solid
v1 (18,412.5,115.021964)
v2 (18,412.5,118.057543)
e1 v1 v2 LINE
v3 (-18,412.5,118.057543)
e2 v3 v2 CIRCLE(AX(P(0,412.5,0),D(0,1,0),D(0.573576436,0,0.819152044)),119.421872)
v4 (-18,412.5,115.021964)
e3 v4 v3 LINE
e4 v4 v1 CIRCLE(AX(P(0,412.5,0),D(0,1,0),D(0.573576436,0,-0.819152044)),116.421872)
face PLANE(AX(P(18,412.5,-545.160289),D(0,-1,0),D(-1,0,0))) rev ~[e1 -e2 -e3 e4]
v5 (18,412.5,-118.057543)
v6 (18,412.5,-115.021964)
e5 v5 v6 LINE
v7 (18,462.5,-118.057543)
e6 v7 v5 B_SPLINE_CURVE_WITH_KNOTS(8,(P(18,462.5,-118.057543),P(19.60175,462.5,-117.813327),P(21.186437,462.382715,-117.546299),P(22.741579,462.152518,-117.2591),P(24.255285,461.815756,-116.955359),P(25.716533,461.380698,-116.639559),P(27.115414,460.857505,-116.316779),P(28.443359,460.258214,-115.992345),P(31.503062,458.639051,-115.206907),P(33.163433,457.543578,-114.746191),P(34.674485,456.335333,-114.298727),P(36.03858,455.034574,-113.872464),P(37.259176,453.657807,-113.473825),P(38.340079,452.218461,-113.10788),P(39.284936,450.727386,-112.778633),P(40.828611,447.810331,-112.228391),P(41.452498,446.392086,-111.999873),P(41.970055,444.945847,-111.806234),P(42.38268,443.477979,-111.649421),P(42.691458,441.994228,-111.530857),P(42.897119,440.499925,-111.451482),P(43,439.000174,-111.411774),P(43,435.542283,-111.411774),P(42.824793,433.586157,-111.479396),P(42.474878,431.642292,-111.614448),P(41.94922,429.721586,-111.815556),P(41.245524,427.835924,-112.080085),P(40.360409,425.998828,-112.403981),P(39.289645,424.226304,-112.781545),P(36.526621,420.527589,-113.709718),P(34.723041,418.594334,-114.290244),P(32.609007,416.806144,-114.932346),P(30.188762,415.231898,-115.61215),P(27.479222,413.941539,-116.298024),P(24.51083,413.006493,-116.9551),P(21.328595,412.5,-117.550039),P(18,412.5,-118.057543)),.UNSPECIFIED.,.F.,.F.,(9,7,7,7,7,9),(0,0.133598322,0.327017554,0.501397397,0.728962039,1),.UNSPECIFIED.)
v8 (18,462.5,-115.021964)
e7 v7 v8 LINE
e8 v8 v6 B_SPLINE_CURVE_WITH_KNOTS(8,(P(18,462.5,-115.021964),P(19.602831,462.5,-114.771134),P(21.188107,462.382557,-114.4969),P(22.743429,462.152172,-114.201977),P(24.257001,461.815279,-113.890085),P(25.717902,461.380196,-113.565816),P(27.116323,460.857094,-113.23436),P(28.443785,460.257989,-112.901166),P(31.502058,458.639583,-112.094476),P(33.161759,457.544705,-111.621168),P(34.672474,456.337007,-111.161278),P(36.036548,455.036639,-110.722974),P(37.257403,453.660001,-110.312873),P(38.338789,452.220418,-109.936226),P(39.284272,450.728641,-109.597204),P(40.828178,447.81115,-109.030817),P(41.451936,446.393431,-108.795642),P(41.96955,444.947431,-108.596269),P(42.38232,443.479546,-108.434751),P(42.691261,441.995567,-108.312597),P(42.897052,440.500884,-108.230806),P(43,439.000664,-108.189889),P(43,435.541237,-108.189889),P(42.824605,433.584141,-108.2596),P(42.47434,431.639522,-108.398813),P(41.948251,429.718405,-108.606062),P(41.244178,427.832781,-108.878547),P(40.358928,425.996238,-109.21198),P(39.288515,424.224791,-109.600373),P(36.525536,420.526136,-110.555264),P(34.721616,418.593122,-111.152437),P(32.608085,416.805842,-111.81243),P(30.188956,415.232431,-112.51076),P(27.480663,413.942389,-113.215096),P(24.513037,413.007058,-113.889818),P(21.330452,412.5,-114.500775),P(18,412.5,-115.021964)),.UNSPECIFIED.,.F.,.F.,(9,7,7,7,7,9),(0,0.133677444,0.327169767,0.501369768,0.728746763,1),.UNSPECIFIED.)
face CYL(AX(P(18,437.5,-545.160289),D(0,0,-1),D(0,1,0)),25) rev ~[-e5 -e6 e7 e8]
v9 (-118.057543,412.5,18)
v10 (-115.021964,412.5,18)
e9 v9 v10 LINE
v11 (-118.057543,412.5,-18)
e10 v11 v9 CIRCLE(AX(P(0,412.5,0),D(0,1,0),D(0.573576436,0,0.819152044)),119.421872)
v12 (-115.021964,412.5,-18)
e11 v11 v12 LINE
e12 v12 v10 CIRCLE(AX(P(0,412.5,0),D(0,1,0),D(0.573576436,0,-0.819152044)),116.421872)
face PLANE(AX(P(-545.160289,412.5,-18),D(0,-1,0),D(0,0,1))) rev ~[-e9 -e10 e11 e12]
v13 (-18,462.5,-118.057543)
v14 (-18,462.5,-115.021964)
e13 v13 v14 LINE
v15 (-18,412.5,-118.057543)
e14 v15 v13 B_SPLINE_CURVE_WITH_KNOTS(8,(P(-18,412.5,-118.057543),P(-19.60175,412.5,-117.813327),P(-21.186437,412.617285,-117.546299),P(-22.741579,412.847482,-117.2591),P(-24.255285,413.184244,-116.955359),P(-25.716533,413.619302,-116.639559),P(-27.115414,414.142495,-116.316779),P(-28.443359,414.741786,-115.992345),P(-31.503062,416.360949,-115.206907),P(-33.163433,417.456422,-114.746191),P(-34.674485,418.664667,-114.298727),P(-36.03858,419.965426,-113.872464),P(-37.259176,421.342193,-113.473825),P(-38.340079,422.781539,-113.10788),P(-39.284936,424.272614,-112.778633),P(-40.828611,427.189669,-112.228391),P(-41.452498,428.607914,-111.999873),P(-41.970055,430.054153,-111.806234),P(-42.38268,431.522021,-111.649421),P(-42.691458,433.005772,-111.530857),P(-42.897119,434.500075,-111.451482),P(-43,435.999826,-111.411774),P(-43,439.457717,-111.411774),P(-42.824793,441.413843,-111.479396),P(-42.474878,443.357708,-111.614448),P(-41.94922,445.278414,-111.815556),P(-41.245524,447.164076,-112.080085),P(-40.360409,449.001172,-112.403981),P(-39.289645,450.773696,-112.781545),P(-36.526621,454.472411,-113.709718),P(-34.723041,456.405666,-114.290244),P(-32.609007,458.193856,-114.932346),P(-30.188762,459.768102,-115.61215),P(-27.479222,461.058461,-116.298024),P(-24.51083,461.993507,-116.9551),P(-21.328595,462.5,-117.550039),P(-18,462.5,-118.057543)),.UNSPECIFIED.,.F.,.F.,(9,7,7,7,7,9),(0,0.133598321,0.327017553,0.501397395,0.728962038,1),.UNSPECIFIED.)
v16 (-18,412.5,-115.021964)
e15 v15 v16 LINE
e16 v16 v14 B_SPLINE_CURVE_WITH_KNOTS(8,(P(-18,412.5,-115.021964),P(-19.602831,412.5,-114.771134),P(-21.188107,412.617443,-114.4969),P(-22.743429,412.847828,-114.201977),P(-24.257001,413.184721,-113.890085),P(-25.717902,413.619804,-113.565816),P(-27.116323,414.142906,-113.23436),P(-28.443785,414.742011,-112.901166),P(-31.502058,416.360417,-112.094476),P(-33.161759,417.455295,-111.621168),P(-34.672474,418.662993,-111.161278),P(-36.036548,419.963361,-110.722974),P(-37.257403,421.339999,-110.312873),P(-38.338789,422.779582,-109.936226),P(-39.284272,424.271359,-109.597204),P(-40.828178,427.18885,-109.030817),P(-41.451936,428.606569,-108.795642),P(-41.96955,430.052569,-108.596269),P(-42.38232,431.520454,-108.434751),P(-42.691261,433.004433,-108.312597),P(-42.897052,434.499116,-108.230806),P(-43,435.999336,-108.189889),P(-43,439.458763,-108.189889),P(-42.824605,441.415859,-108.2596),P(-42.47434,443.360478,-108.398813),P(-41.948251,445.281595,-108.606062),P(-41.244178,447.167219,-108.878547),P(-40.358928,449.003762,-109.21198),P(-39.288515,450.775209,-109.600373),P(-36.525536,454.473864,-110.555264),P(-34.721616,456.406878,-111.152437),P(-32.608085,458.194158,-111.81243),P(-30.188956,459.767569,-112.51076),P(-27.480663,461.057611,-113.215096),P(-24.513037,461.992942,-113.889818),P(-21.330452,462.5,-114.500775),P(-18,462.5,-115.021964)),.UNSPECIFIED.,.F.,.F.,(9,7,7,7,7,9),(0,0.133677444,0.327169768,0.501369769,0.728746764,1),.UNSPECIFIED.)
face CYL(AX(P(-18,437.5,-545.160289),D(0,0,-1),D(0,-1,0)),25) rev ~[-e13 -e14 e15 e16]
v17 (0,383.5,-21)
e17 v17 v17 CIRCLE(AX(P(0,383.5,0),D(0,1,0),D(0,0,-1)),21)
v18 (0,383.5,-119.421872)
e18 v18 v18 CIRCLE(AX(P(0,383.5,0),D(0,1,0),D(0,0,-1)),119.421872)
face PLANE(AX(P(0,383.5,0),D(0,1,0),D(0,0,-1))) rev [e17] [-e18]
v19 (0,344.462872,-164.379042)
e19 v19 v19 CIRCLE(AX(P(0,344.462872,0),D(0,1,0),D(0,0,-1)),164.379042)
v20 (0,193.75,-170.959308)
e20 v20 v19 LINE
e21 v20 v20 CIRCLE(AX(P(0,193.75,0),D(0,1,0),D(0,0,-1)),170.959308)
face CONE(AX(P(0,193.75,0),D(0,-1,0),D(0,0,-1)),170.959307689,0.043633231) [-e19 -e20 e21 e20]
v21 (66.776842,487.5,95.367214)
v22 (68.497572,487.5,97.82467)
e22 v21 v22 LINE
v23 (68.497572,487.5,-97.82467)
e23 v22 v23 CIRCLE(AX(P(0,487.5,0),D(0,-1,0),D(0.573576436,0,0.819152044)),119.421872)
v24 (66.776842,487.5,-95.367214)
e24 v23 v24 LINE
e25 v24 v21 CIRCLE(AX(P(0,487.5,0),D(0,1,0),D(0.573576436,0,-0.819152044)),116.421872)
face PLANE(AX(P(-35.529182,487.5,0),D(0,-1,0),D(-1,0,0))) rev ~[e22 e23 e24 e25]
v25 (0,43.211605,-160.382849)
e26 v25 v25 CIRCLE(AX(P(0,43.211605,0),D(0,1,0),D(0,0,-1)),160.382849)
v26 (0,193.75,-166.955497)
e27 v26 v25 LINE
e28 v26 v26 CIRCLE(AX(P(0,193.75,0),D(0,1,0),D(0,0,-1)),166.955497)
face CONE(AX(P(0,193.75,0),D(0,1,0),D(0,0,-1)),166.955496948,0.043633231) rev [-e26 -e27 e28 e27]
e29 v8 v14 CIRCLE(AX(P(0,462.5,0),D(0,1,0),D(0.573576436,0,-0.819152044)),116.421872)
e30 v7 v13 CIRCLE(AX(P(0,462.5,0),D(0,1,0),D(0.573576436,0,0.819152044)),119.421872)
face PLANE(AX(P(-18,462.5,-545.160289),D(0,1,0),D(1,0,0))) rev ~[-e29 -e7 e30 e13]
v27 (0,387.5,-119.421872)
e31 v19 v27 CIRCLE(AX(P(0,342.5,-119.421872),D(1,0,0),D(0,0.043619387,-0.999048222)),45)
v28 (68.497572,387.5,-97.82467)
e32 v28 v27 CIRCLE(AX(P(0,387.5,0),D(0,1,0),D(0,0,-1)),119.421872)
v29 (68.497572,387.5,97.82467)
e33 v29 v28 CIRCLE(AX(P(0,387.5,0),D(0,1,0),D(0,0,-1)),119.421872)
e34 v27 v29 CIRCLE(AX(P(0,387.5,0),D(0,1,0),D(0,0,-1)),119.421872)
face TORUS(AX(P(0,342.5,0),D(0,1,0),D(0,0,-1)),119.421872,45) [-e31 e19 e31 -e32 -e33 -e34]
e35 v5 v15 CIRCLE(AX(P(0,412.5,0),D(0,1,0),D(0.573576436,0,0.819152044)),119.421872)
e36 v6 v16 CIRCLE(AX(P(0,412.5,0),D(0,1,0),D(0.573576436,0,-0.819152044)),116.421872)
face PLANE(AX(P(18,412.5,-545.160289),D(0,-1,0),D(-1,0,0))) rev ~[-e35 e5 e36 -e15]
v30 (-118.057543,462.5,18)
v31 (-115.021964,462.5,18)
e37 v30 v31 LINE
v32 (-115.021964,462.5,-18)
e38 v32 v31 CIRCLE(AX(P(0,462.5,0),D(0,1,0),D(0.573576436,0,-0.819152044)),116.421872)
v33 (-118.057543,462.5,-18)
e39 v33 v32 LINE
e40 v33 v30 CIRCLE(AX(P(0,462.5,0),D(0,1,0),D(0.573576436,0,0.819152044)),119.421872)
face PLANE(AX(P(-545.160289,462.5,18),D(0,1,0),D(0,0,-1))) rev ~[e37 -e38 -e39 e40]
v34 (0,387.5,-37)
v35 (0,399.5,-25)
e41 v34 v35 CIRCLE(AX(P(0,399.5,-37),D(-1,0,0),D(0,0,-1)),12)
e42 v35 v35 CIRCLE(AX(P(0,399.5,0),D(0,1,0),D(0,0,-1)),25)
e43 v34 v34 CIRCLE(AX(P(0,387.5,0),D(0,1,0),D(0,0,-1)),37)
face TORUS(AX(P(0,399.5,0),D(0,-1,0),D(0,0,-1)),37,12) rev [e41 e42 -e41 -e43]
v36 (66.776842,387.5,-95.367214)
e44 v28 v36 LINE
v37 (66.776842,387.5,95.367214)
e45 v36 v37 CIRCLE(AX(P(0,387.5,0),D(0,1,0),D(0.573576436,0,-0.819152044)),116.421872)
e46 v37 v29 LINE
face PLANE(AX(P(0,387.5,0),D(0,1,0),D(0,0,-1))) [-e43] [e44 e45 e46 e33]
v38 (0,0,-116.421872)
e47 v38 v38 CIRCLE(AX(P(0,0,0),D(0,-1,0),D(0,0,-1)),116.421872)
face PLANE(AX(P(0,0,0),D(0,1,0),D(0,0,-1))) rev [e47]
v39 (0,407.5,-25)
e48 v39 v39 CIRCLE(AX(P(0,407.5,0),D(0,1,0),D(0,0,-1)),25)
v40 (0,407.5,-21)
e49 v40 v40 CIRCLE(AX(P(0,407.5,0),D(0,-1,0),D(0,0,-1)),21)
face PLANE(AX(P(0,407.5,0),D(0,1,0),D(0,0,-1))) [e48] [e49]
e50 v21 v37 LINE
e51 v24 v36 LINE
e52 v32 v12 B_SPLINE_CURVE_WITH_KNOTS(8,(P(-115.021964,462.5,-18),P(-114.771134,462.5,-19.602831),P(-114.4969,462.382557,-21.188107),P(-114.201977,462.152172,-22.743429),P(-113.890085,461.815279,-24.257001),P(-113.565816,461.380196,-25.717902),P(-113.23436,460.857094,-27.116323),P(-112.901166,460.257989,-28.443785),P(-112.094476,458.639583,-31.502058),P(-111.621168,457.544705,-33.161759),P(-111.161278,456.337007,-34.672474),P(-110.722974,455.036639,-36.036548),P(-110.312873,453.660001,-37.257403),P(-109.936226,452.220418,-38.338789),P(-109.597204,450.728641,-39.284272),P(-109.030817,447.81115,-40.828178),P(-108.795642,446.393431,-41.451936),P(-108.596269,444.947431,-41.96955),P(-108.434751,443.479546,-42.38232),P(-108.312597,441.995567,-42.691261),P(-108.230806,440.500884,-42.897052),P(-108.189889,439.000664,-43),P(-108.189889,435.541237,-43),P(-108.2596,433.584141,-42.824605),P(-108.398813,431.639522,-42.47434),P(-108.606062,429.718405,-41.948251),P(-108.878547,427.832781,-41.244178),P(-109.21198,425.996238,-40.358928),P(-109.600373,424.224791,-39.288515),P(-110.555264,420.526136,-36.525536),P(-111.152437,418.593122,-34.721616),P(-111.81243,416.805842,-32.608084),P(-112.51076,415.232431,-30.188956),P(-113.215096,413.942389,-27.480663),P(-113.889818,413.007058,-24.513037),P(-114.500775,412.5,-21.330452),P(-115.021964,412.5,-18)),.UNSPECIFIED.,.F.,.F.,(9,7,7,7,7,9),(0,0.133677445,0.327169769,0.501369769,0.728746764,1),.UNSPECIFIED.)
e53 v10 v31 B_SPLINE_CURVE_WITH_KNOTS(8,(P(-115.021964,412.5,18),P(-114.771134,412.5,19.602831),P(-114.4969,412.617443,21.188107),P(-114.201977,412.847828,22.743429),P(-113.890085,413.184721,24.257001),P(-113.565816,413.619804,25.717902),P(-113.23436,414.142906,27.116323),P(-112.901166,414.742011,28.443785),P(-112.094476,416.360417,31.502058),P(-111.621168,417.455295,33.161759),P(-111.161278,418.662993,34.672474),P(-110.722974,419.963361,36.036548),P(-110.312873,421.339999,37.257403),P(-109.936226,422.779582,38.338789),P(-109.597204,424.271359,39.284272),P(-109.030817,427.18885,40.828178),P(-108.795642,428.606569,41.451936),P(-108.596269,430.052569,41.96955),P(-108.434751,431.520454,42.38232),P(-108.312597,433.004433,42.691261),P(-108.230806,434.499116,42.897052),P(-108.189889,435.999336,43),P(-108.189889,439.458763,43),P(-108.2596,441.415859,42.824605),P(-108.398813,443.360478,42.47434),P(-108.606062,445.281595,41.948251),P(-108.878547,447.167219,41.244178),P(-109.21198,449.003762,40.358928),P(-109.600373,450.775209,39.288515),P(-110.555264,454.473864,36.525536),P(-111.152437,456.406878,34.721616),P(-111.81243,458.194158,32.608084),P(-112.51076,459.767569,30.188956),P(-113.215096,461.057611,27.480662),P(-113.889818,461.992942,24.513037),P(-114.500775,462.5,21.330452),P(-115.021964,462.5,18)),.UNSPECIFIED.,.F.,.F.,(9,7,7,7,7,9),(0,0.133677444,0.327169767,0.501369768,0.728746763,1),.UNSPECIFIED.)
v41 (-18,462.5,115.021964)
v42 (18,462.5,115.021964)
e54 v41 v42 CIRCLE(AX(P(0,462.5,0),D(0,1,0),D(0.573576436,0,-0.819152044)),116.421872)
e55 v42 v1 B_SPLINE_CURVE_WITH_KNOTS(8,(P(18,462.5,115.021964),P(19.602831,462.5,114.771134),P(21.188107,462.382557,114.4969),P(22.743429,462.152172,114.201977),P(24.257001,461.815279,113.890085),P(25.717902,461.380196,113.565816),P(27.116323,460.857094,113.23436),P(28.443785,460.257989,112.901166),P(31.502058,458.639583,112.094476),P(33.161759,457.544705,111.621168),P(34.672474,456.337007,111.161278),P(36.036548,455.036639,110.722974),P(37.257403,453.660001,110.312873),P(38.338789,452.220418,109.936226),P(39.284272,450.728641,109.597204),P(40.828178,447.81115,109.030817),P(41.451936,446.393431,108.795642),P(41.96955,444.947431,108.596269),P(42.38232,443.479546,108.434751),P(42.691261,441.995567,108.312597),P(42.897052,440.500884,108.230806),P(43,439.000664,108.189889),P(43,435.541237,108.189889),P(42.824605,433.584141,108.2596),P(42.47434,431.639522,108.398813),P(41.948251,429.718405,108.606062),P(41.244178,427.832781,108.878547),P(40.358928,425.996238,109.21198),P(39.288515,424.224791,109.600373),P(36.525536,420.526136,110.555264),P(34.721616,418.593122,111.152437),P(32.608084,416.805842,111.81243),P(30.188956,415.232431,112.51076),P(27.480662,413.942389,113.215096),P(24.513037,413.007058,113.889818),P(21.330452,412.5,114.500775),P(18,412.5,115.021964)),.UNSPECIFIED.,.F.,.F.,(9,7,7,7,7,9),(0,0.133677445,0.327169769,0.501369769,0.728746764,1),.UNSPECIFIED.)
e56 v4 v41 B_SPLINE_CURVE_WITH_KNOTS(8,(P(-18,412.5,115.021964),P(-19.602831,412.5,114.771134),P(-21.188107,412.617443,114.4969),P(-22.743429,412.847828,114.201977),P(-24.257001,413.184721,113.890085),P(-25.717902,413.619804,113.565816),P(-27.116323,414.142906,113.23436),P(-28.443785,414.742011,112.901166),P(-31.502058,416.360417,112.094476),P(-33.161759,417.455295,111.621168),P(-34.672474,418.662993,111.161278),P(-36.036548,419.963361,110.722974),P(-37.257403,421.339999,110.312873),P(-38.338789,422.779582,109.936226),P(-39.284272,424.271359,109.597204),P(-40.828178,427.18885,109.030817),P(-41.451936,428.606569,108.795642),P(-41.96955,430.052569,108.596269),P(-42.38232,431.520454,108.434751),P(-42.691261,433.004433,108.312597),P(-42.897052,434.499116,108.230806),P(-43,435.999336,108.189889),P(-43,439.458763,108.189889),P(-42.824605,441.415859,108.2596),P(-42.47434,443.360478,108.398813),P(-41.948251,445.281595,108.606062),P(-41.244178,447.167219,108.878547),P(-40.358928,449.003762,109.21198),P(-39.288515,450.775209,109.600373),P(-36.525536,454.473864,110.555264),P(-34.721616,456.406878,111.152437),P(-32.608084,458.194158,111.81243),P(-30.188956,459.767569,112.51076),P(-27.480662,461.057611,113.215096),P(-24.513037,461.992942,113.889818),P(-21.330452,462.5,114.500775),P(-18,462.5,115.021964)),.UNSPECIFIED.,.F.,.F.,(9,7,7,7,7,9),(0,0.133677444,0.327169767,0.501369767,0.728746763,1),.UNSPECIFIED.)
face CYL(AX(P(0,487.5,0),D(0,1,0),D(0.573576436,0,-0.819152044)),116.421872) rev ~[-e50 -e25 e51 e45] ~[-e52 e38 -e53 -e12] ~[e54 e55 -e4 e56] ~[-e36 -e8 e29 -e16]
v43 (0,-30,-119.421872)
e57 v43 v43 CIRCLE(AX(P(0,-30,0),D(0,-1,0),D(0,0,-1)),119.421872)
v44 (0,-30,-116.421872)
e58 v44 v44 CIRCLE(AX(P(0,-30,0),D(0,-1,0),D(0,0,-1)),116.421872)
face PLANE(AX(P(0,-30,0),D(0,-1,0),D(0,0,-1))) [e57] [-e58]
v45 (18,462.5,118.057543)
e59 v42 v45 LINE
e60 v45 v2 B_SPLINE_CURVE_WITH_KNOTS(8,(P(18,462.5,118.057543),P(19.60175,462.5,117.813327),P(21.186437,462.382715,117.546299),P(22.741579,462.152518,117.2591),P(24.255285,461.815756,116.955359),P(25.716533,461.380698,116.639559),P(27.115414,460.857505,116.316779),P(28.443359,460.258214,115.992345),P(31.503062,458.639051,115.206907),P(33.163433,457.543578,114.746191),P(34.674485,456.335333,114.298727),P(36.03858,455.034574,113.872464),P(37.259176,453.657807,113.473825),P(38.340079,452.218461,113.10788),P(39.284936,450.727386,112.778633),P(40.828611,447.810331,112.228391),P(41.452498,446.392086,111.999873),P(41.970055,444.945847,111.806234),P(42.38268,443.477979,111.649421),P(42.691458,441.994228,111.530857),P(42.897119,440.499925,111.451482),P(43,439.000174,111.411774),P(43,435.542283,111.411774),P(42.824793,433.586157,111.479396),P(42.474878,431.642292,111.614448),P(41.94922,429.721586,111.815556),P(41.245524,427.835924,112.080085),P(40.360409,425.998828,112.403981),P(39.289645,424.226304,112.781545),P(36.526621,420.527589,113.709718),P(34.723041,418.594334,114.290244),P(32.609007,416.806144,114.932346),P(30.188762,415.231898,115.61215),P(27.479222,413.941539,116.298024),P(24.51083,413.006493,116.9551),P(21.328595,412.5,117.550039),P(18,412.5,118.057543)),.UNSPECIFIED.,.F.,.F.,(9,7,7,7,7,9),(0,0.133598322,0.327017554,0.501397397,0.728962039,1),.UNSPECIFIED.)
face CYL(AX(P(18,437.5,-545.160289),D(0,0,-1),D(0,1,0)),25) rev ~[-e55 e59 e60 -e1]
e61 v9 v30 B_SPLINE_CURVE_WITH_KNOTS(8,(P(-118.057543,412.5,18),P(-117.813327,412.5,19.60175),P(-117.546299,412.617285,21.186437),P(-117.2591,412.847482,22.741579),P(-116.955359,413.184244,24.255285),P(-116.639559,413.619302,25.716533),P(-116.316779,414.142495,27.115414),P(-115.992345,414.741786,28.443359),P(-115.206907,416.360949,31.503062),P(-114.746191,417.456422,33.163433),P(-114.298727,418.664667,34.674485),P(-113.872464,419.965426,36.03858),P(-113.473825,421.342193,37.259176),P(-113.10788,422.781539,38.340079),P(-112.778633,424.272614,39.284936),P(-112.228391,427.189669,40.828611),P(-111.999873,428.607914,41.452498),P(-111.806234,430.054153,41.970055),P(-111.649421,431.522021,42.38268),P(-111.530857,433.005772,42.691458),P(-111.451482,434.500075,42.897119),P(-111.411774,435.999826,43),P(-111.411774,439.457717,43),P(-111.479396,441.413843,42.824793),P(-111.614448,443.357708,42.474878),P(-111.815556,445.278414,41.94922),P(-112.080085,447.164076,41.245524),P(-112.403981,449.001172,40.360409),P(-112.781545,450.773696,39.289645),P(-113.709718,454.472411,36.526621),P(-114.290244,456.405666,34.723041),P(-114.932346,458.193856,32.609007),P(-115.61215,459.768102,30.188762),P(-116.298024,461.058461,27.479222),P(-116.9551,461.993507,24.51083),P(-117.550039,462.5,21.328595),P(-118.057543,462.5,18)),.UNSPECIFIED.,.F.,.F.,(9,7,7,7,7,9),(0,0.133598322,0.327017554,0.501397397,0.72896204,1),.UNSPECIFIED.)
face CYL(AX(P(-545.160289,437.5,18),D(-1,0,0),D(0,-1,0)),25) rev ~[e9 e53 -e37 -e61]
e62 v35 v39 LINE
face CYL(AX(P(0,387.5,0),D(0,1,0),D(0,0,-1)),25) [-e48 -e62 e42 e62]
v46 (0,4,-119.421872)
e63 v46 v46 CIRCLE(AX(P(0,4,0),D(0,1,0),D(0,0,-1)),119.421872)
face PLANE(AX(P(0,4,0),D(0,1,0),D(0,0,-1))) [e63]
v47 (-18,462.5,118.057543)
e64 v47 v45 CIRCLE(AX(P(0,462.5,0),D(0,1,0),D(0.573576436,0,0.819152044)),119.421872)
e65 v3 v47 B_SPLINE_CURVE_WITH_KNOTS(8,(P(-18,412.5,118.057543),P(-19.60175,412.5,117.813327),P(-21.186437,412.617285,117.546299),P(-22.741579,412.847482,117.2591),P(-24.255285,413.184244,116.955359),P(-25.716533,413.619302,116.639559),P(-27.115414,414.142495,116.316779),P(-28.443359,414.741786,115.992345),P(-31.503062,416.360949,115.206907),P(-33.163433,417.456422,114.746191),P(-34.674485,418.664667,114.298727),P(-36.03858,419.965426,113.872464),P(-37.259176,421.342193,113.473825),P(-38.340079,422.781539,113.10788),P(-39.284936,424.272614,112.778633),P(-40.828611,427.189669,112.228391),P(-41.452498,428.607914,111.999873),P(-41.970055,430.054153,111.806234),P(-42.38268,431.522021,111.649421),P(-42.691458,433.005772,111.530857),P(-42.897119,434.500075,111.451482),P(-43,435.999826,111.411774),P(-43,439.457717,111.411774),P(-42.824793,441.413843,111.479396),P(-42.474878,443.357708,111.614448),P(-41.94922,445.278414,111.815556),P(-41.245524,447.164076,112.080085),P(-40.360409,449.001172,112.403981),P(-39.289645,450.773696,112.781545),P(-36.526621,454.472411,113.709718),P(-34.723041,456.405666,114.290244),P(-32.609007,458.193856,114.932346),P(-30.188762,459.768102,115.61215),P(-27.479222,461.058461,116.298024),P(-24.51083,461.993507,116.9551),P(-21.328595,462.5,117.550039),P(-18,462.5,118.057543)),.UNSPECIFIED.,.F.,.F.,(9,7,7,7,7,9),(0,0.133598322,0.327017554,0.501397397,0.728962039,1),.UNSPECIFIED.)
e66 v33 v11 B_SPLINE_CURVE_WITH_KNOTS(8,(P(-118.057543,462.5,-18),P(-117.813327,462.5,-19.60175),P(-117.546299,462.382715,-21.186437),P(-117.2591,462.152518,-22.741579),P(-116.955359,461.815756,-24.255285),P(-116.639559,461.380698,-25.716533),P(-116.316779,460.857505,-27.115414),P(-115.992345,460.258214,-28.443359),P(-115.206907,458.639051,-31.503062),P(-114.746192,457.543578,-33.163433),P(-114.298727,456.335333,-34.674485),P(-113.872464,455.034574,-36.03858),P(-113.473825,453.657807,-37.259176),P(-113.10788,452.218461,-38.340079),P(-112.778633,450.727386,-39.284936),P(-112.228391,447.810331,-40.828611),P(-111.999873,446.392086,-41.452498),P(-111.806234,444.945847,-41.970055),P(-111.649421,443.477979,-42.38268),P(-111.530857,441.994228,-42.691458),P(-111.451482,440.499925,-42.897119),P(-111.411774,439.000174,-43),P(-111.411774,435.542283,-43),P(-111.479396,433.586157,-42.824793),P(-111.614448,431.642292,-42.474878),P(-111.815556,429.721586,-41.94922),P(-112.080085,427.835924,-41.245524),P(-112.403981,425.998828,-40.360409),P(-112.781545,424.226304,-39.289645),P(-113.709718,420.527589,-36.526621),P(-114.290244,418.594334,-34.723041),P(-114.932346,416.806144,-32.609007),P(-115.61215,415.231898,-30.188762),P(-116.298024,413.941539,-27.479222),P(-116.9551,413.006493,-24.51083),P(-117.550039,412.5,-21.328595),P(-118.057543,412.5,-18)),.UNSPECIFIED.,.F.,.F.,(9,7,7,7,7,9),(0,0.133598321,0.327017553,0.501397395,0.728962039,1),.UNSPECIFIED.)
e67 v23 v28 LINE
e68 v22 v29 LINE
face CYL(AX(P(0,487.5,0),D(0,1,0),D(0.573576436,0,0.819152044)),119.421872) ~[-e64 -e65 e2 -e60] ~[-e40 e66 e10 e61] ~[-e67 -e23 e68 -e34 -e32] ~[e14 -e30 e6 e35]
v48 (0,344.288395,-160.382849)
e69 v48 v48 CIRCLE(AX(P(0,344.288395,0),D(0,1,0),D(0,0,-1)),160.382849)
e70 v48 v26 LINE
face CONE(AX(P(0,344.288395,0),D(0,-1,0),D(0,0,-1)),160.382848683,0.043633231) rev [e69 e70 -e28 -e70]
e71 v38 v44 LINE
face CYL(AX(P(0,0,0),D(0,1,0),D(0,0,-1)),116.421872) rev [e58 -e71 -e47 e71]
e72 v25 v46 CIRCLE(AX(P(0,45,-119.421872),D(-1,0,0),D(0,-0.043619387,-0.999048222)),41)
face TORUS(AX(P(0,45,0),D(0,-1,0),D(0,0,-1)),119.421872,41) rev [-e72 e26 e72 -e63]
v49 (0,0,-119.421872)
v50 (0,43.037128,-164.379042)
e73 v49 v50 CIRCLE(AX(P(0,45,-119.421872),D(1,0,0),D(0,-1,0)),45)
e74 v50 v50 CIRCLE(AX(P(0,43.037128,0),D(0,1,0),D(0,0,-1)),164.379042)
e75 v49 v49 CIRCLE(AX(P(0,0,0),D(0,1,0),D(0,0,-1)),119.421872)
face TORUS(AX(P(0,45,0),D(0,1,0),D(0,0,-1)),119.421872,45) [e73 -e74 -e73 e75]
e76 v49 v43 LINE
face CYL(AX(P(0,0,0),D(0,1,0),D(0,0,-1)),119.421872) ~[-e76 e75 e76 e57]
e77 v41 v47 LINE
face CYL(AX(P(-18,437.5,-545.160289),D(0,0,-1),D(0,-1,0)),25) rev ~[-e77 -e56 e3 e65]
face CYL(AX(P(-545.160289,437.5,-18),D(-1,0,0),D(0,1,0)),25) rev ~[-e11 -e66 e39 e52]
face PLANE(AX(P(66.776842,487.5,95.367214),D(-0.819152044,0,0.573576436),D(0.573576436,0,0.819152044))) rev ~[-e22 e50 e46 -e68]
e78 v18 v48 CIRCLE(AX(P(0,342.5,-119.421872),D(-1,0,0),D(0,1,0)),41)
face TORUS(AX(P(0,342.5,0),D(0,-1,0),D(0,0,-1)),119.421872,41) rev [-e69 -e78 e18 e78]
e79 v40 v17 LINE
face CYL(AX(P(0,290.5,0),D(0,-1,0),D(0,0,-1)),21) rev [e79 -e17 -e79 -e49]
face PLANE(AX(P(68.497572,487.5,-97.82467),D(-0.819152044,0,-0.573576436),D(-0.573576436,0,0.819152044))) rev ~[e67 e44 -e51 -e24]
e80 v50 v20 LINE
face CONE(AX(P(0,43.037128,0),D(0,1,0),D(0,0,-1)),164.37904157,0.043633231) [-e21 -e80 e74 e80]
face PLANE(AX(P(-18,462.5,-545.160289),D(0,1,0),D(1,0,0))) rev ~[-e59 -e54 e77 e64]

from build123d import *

# Parameters (mm, degrees)
CUT_EXTRUDE3_DEPTH      = 140
CUT_EXTRUDE3_DEPTH_BACK = 97
SKETCH2_R               = 21
FILLET3_R               = 12
SKETCH3_R               = 119.421871599
SKETCH3_R_2             = 116.421871599
BOSS_EXTRUDE1_DEPTH     = 30
BOSS_EXTRUDE3_START     = 100
BOSS_EXTRUDE3_DEPTH     = 100
CUT_EXTRUDE6_DEPTH      = 545.160288675
CUT_EXTRUDE6_DEPTH_BACK = 545.160288675
CUT_EXTRUDE7_DEPTH      = 545.160288764
CUT_EXTRUDE7_DEPTH_BACK = 545.160288764


with BuildPart() as part:
    # Sketch1 → Revolve2 (revolve)
    with BuildSketch(Plane.XY, mode=Mode.PRIVATE) as revolve2_sk:
        with BuildLine():
            Line((0, 0), (119.421871599, 0))
            ThreePointArc((119.421871599, 0), (150.539959109, 12.493621707), (164.37904157, 43.037127569))
            Line((164.37904157, 43.037127569), (170.959307689, 193.75))
            Line((170.959307689, 193.75), (164.37904157, 344.462872431))
            ThreePointArc((164.37904157, 344.462872431), (150.539959109, 375.006378293), (119.421871599, 387.5))
            Line((119.421871599, 387.5), (25, 387.5))
            Line((25, 387.5), (25, 407.5))
            Line((25, 407.5), (0, 407.5))
            Line((0, 407.5), (0, 403.5))
            Line((0, 403.5), (21, 403.5))
            Line((21, 403.5), (21, 383.5))
            Line((21, 383.5), (119.421871599, 383.5))
            ThreePointArc((119.421871599, 383.5), (147.773906886, 372.116922444), (160.382848683, 344.288394882))
            Line((160.382848683, 344.288394882), (166.955496948, 193.75))
            Line((166.955496948, 193.75), (160.382848683, 43.211605118))
            ThreePointArc((160.382848683, 43.211605118), (147.773906886, 15.383077556), (119.421871599, 4))
            Line((119.421871599, 4), (0, 4))
            Line((0, 4), (0, 0))
        make_face()
    revolve(revolve2_sk.sketch.rotate(Axis((0, 0, 0), (0, 1, 0)), 90), axis=Axis((0, 0, 0), (0, 1, 0)))

    # Sketch2 → Cut-Extrude3 (cut, two sides: drawn at the far end of the back side and taken through both)
    with BuildSketch(Plane(origin=(0, 387.5, 0), x_dir=(1, 0, 0), z_dir=(0, 1, 0)).offset(-CUT_EXTRUDE3_DEPTH_BACK)):
        with Locations(Location((0, 0, 0), (0, 0, 90))):
            Circle(SKETCH2_R)
    extrude(amount=CUT_EXTRUDE3_DEPTH + CUT_EXTRUDE3_DEPTH_BACK, mode=Mode.SUBTRACT)

    # Fillet3
    fillet3_edges = [part.edges().sort_by_distance(p)[0] for p in [
        (0, 387.5, 25),
    ]]
    fillet(fillet3_edges, radius=FILLET3_R)

    # Sketch3 → Boss-Extrude1 (add)
    with BuildSketch(Plane.XZ):
        with Locations(Location((0, 0, 0), (0, 0, 270))):
            Circle(SKETCH3_R)
        with Locations(Location((0, 0, 0), (0, 0, 270))):
            Circle(SKETCH3_R_2, mode=Mode.SUBTRACT)
    extrude(amount=BOSS_EXTRUDE1_DEPTH)

    # Sketch4 → Boss-Extrude3 (add)
    with BuildSketch(Plane(origin=(0, 387.5, 0), x_dir=(1, 0, 0), z_dir=(0, 1, 0)).offset(BOSS_EXTRUDE3_START)):
        with BuildLine():
            Line((68.497571534, 97.824670253), (66.776842225, 95.36721412))
            ThreePointArc((66.776842225, 95.36721412), (-116.421871599, 0), (66.776842225, -95.36721412))
            Line((66.776842225, -95.36721412), (68.497571534, -97.824670253))
            ThreePointArc((68.497571534, -97.824670253), (-119.421871599, 0), (68.497571534, 97.824670253))
        make_face()
    extrude(amount=-BOSS_EXTRUDE3_DEPTH)

    # Sketch6 → Cut-Extrude6 (cut, two sides: drawn at the far end of the back side and taken through both)
    with BuildSketch(Plane.XY.offset(-CUT_EXTRUDE6_DEPTH_BACK)):
        with BuildLine():
            Line((-18, 462.5), (18, 462.5))
            ThreePointArc((18, 462.5), (43, 437.5), (18, 412.5))
            Line((18, 412.5), (-18, 412.5))
            ThreePointArc((-18, 412.5), (-43, 437.5), (-18, 462.5))
        make_face()
    extrude(amount=CUT_EXTRUDE6_DEPTH + CUT_EXTRUDE6_DEPTH_BACK, mode=Mode.SUBTRACT)

    # Sketch8 → Cut-Extrude7 (cut, two sides: drawn at the far end of the back side and taken through both)
    with BuildSketch(Plane(origin=(0, 0, 0), x_dir=(0, 0, -1), z_dir=(1, 0, 0)).offset(-CUT_EXTRUDE7_DEPTH_BACK)):
        with BuildLine():
            Line((-18, 462.5), (18, 462.5))
            ThreePointArc((18, 462.5), (43, 437.5), (18, 412.5))
            Line((18, 412.5), (-18, 412.5))
            ThreePointArc((-18, 412.5), (-43, 437.5), (-18, 462.5))
        make_face()
    extrude(amount=CUT_EXTRUDE7_DEPTH + CUT_EXTRUDE7_DEPTH_BACK, mode=Mode.SUBTRACT)


solid = part.part
